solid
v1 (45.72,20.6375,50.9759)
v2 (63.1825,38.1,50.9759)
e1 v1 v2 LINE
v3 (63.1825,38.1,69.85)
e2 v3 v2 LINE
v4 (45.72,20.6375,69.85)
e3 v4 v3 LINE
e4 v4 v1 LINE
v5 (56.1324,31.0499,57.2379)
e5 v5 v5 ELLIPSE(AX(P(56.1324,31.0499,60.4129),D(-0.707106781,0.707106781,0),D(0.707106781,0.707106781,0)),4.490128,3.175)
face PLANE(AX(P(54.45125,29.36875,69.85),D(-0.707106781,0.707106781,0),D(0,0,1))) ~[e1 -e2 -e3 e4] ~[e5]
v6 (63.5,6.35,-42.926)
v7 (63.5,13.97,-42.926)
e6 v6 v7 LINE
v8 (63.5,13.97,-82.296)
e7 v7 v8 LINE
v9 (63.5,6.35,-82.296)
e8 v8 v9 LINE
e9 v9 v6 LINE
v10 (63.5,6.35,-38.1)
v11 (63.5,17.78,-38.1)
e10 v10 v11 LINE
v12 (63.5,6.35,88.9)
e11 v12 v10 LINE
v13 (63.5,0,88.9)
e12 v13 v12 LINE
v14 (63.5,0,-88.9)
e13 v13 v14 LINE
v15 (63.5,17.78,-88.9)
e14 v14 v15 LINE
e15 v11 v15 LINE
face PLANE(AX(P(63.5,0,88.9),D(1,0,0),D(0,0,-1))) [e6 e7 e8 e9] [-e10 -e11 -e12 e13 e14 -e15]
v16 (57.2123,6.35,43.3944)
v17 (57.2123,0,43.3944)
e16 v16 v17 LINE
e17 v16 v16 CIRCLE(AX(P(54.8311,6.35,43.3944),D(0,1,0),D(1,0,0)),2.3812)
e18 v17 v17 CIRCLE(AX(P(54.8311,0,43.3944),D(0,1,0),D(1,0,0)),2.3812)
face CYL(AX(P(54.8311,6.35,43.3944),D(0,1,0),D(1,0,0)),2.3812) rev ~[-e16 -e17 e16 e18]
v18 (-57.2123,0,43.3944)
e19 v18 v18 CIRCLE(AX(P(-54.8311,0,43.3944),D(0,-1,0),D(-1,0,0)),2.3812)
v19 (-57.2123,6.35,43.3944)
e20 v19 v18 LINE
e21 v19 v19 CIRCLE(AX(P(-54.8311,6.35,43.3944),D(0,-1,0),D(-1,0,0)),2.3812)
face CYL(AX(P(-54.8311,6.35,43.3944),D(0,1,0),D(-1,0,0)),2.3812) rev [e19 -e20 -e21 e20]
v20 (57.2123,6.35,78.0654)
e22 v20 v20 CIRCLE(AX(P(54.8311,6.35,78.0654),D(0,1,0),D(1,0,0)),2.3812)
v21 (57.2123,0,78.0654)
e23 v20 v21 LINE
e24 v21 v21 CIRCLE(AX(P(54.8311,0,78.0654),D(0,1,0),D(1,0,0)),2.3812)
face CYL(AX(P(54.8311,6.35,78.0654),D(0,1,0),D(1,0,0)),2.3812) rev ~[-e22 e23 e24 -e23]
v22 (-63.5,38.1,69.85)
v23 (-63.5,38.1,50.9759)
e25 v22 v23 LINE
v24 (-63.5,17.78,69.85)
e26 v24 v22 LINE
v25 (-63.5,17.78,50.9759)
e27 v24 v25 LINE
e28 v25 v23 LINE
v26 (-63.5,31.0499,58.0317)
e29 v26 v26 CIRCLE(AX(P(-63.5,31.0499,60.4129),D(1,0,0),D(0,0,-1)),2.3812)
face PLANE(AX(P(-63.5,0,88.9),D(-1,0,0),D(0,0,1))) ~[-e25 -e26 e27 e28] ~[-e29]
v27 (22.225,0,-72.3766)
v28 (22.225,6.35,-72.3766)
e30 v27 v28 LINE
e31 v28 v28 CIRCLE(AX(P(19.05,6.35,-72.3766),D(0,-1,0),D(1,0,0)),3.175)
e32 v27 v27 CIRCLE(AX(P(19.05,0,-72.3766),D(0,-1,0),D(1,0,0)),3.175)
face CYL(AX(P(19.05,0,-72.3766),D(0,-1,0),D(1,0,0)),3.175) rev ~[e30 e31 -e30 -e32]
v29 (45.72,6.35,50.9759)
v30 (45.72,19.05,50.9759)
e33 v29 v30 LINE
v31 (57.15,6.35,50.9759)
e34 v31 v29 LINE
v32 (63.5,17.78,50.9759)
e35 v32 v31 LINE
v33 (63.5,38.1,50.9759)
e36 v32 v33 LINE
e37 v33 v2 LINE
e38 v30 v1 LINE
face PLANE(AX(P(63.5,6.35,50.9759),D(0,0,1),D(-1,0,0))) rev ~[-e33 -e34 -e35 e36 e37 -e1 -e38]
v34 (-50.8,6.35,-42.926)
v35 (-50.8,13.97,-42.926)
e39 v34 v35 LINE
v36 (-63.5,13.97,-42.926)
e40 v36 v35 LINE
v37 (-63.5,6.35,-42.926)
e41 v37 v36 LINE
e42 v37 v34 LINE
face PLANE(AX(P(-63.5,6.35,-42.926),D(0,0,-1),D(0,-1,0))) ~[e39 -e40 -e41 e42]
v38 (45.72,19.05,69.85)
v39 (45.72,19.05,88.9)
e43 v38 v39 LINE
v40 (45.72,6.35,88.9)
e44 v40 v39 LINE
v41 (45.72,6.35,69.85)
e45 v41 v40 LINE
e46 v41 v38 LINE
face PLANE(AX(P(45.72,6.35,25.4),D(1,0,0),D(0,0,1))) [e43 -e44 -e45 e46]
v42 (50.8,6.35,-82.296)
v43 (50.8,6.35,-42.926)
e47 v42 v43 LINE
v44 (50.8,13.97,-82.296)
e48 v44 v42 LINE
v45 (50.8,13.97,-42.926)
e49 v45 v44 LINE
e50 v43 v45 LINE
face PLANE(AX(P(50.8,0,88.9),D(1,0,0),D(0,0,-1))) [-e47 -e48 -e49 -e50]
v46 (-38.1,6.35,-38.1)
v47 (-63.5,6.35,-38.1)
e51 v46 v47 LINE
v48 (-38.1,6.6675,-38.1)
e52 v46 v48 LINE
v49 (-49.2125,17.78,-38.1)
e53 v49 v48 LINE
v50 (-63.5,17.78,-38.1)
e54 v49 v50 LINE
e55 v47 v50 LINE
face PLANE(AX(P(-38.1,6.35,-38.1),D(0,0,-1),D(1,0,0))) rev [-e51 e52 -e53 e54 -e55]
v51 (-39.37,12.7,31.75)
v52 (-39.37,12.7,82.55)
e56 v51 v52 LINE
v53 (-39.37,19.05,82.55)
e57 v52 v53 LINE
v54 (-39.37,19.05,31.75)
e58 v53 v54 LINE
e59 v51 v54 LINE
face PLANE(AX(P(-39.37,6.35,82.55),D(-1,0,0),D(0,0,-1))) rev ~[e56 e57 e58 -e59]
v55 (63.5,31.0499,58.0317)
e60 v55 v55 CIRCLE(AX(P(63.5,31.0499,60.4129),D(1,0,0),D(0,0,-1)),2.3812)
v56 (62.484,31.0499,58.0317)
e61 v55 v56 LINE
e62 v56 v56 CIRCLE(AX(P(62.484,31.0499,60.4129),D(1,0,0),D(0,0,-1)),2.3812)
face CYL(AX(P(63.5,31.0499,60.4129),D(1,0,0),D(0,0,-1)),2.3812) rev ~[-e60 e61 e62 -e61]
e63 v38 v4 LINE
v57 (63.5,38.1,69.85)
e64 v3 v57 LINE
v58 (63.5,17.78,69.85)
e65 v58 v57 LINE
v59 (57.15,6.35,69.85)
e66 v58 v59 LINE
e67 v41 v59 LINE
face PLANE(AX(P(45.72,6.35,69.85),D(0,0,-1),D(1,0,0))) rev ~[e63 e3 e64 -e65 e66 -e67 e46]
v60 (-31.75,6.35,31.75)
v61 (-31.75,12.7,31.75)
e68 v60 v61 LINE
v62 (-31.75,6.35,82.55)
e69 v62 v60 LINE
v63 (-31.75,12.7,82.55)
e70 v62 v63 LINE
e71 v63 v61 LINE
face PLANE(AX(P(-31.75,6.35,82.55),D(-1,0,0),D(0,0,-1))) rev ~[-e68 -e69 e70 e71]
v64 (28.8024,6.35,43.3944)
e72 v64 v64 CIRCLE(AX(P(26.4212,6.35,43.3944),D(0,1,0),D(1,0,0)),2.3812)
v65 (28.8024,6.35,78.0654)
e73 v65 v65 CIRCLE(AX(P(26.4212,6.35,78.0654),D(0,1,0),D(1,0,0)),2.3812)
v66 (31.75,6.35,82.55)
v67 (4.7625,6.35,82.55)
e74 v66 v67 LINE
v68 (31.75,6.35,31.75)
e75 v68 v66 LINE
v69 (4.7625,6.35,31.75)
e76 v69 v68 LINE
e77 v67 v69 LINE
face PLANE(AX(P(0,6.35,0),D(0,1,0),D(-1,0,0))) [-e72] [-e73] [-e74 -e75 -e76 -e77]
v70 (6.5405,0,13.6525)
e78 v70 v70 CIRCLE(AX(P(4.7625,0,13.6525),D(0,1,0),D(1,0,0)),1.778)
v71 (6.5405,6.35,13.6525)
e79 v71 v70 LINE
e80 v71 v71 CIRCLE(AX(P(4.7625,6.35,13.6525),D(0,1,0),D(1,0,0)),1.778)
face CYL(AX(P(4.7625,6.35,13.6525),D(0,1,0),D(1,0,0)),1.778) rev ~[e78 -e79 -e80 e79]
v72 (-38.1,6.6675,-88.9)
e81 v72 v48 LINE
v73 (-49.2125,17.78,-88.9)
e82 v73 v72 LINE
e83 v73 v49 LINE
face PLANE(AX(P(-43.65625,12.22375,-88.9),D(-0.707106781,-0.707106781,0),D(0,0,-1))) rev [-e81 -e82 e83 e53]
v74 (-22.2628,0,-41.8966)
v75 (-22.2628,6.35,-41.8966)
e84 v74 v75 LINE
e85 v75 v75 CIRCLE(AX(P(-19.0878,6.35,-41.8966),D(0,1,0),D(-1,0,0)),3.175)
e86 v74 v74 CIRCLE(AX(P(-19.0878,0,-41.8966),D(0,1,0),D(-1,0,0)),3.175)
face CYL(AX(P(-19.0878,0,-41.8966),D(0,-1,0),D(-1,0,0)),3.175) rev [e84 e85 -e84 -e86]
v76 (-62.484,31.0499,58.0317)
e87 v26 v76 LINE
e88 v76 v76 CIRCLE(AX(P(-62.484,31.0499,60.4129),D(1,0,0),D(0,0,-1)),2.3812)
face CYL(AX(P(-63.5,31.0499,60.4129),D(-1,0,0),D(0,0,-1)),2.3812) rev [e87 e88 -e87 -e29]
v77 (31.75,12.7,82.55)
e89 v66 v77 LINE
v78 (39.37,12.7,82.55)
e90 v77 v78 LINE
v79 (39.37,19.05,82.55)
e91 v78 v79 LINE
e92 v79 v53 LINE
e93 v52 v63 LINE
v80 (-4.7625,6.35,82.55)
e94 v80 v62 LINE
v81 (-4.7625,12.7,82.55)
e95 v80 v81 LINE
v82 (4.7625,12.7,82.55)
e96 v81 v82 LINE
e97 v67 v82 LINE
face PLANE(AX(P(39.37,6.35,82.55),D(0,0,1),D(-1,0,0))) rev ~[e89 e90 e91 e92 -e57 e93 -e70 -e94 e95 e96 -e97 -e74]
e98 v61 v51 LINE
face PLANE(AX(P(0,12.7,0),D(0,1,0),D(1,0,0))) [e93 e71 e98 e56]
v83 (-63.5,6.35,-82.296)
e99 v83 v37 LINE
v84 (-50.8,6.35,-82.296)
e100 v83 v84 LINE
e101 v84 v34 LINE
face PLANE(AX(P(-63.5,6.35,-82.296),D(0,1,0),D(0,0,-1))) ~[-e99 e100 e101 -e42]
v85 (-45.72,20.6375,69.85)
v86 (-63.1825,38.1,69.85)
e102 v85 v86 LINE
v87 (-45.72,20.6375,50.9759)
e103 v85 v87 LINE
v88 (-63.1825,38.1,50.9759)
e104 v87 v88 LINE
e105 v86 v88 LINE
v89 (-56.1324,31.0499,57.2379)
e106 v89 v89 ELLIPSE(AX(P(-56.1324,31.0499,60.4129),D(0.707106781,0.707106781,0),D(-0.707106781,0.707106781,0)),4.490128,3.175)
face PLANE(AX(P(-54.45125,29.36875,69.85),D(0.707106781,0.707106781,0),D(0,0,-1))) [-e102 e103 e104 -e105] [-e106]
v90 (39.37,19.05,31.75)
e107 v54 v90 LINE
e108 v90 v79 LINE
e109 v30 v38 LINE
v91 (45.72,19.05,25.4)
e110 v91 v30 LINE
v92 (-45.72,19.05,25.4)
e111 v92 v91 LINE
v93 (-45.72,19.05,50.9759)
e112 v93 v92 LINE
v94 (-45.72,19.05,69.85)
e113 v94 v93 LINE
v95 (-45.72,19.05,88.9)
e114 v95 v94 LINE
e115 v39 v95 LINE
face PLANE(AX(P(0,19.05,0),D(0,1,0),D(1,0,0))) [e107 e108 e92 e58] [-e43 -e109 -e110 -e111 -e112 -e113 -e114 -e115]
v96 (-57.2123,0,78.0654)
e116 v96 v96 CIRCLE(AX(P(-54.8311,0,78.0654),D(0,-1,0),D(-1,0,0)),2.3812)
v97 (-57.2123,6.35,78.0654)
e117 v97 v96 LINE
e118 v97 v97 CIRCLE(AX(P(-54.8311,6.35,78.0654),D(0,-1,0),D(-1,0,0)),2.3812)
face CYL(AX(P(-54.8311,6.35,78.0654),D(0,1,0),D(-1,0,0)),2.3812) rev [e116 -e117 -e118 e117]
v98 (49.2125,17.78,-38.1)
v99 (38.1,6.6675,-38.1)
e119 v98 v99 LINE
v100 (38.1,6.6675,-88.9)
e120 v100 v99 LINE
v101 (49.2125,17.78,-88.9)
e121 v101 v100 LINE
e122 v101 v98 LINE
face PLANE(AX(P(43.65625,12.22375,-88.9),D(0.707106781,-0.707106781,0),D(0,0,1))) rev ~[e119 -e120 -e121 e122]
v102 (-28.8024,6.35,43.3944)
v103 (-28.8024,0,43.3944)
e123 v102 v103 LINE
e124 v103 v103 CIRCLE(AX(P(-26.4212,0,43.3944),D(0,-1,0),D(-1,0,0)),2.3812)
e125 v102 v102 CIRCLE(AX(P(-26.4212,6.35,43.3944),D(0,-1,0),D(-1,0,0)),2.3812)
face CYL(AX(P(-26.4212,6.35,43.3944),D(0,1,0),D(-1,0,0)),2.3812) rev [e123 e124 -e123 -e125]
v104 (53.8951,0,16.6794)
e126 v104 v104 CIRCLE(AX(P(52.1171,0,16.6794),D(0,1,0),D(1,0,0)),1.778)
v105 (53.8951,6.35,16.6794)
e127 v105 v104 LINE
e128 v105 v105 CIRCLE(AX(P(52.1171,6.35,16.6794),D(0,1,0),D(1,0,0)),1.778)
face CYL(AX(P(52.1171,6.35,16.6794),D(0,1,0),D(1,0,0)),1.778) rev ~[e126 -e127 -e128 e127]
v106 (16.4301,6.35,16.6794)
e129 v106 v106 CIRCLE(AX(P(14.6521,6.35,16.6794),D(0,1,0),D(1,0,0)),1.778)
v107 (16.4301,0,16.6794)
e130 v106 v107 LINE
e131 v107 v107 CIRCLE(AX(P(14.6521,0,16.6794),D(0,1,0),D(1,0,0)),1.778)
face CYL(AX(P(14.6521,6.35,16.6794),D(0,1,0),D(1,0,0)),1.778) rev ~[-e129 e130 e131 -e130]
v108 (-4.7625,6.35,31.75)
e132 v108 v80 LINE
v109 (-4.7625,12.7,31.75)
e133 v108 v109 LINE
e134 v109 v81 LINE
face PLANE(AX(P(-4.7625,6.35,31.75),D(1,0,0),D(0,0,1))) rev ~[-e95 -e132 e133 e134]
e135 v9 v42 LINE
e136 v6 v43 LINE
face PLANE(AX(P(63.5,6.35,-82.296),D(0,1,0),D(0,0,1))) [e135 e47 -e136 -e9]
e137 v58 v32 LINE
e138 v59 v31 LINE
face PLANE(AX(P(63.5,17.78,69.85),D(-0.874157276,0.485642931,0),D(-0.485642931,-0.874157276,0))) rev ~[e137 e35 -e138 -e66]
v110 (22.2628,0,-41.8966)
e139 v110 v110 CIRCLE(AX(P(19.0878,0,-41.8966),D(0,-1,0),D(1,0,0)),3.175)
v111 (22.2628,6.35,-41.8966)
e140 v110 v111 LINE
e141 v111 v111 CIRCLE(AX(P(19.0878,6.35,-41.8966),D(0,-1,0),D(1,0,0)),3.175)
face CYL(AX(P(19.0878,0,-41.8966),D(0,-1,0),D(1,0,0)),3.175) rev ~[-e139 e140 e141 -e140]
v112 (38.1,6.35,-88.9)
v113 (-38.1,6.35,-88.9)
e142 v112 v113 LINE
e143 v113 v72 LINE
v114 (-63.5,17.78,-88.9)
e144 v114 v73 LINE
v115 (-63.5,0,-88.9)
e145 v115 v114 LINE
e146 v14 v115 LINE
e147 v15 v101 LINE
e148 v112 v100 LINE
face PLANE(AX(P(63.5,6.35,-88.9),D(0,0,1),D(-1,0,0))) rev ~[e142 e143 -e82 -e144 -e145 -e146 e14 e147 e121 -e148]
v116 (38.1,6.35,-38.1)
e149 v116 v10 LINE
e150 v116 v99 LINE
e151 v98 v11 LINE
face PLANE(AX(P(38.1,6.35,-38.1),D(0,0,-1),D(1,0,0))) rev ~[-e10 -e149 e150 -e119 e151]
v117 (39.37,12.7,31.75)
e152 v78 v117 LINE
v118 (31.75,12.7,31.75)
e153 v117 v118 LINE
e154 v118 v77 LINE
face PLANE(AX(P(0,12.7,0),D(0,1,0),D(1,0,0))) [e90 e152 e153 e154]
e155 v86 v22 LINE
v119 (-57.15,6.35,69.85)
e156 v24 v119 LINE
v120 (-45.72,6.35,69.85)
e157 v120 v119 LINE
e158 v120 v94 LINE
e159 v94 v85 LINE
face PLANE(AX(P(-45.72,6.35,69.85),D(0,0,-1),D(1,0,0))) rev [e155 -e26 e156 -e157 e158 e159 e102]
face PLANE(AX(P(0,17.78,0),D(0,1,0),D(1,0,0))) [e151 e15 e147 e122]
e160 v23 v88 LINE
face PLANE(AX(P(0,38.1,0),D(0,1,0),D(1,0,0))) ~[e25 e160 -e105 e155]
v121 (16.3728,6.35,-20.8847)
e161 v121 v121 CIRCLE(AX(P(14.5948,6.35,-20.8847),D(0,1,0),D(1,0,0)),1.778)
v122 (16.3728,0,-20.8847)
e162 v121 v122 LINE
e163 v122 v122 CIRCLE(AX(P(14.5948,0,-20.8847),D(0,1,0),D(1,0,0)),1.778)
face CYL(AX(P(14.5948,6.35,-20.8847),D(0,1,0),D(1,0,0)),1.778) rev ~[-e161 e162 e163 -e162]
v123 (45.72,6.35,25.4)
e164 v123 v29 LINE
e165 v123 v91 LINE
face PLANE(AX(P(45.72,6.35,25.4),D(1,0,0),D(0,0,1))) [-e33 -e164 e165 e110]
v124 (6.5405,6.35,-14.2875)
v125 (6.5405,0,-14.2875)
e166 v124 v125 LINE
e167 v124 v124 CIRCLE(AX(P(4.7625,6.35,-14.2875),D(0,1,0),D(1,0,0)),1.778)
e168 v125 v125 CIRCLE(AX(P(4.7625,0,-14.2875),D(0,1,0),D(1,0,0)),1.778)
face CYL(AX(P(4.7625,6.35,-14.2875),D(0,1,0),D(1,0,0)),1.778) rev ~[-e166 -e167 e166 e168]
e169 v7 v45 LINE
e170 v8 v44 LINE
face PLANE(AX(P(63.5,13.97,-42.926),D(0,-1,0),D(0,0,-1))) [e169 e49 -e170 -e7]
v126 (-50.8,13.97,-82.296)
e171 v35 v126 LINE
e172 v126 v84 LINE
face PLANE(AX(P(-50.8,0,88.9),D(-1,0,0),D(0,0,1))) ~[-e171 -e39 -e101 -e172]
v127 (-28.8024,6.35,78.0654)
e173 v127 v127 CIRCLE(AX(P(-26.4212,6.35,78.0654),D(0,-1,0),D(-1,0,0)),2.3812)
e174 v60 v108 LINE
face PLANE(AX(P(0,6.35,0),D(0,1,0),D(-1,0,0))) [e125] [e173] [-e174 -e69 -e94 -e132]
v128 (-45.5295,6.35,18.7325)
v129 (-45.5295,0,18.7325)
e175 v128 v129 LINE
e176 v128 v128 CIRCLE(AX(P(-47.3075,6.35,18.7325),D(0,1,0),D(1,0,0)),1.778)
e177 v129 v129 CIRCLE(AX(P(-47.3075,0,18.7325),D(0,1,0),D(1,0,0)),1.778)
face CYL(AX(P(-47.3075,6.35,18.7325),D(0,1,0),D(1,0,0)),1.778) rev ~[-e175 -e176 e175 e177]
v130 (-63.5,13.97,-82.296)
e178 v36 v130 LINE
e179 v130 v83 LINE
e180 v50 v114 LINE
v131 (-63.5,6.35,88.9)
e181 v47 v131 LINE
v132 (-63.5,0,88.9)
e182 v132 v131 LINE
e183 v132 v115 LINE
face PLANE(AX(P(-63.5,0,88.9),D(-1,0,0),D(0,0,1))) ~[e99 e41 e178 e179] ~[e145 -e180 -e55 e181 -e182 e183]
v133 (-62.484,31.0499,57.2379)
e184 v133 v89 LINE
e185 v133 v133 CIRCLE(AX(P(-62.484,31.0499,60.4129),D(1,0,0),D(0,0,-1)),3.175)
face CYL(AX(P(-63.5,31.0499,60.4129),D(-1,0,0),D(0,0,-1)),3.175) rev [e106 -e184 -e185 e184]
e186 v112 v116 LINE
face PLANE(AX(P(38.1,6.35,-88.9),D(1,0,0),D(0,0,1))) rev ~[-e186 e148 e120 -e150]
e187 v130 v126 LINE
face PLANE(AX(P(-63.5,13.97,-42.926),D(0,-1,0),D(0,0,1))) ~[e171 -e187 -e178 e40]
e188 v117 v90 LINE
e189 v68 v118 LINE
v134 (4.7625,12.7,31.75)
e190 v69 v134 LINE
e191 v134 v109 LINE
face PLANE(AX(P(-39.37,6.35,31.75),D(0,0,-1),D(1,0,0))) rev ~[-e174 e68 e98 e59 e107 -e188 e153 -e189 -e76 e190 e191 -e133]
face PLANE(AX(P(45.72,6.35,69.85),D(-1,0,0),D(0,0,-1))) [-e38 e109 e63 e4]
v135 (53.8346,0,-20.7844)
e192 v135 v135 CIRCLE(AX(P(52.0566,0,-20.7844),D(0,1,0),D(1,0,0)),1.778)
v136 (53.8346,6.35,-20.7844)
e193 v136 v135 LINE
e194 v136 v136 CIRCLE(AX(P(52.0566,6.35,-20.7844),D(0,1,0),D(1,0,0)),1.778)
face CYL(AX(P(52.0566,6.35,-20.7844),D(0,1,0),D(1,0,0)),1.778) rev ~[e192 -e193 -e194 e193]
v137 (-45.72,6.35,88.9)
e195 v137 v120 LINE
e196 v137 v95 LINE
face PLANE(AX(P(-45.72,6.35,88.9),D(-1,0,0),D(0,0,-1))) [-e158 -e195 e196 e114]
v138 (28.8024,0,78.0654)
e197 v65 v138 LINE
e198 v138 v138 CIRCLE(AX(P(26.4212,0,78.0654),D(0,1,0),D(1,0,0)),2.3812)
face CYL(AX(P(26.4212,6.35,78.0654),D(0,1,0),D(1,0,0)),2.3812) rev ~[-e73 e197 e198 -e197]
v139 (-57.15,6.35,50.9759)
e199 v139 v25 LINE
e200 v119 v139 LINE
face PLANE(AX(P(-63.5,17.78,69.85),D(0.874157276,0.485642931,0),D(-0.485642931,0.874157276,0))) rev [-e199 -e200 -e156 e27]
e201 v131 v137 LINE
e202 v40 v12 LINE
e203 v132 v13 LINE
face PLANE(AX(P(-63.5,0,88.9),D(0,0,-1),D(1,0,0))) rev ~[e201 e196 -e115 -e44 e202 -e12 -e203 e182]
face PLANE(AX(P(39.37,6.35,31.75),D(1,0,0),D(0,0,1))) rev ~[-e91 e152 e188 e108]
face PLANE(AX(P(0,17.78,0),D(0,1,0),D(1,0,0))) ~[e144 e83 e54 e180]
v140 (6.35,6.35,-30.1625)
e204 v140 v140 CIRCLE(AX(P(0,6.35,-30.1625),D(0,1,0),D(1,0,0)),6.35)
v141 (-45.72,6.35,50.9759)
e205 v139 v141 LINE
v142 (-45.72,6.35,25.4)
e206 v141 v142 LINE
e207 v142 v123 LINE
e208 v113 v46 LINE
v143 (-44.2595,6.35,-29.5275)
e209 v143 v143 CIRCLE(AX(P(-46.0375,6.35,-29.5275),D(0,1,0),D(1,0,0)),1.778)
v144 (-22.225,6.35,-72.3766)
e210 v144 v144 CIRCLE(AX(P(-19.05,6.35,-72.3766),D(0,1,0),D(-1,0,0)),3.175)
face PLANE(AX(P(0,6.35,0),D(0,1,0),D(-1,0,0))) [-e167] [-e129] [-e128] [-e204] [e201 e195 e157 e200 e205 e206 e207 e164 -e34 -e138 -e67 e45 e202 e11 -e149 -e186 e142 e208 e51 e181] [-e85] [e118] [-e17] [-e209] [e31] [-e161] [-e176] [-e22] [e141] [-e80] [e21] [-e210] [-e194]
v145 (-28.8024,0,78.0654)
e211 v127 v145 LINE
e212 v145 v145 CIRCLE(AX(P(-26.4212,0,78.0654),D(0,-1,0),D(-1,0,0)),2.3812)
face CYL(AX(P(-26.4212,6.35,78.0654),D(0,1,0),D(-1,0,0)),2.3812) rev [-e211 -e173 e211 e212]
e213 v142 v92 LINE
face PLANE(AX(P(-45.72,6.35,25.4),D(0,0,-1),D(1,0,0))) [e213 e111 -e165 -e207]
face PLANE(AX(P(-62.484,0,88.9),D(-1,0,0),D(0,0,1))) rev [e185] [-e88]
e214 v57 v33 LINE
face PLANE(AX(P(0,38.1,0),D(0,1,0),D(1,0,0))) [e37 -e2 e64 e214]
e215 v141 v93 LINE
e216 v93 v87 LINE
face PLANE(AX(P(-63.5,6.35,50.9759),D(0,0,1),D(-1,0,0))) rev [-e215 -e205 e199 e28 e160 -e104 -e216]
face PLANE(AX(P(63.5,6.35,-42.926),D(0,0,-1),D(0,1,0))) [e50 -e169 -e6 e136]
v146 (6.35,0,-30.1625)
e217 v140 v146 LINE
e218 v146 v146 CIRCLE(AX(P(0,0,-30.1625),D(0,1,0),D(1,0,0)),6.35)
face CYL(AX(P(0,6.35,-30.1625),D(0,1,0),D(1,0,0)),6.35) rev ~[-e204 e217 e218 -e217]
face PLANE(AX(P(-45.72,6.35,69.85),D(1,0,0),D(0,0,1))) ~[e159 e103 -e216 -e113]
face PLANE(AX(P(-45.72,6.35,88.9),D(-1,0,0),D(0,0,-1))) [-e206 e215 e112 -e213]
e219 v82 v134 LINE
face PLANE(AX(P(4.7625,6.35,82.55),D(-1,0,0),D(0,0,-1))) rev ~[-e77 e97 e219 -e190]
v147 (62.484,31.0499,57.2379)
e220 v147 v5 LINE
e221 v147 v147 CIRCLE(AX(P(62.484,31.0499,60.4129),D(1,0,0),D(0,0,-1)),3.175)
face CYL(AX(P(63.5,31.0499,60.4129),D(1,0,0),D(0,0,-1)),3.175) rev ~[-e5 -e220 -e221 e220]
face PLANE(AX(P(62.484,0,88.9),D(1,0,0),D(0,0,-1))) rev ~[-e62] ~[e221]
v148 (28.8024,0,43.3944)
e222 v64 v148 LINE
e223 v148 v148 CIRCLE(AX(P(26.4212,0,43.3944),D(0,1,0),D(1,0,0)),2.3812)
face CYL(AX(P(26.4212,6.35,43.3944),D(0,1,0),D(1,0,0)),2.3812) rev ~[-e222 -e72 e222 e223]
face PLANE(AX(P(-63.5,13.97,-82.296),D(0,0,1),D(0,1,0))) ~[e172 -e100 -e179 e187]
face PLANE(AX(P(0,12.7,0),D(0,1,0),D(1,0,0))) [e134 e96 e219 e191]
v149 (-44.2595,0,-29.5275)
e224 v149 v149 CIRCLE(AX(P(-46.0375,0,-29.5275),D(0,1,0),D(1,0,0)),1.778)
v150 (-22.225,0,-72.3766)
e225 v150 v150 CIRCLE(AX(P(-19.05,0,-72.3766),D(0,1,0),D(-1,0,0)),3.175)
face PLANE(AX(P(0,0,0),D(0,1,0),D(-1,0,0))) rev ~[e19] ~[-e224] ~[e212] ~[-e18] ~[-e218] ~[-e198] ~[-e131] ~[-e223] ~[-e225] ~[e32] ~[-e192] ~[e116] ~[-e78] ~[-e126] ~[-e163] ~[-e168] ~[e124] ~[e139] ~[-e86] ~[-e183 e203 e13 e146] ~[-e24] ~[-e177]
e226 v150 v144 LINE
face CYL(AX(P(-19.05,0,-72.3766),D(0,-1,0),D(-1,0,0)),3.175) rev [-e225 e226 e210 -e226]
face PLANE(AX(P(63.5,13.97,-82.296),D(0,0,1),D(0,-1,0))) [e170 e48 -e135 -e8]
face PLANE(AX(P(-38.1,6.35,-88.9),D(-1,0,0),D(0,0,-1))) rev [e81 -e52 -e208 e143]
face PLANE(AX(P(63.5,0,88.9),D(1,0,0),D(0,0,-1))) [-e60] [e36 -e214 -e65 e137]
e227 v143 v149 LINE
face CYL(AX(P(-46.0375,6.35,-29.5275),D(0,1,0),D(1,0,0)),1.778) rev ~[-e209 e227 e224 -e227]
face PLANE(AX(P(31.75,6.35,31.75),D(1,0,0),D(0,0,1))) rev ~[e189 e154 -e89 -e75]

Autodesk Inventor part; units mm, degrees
ref_plane "YZ Plane" through (0, 0, 0) normal (1, 0, 0) x (0, 1, 0)
ref_plane "XZ Plane" through (0, 0, 0) normal (0, 1, 0) x (-1, 0, 0)
ref_plane "XY Plane" through (0, 0, 0) normal (0, 0, 1) x (1, 0, 0)
sketch "Sketch1" plane through (0, 0, 0) normal (0, 1, 0) x (-1, 0, 0)
  line L0 (63.5, 88.9) -> (-63.5, 88.9)
  line L1 (-63.5, 88.9) -> (-63.5, -88.9)
  line L2 (-63.5, -88.9) -> (63.5, -88.9)
  line L3 (63.5, -88.9) -> (63.5, 88.9)
  line L4 (63.5, 88.9) -> (-63.5, -88.9) construction
  line L5 (-63.5, 88.9) -> (63.5, -88.9) construction
  point P0 (0, 0)
  dimension "d0" = 177.8
  dimension "d1" = 127
extrude "main chassis frame" add sketch "Sketch1" along normal blind 6.35
sketch "Sketch4" plane through (0, 6.35, 0) normal (0, 1, 0) x (1, 0, 0)
  circle A0 centre (54.8311, -78.0654) radius 2.3812
  circle A1 centre (54.8311, -43.3944) radius 2.3812
  line L0 (54.8311, -75.6842) -> (54.8311, -45.7757) construction
  circle A2 centre (26.4212, -78.0654) radius 2.3812
  circle A3 centre (26.4212, -43.3944) radius 2.3812
  line L1 (26.4212, -75.6842) -> (26.4212, -45.7757) construction
  line L2 (28.8024, -78.0654) -> (52.4498, -78.0654) construction
  point P0 (0, 0)
  dimension "d19" = 4.7625
  dimension "d165" = 4.7625
  dimension "d164" = 29.9085
  dimension "d166" = 29.9085
  dimension "d167" = 23.6474
extrude "mounting holes for caster" cut sketch "Sketch4" against normal blind 6.35
sketch "Sketch5" plane through (0, 6.35, 0) normal (0, 1, 0) x (1, 0, 0)
  line L0 (63.5, 88.9) -> (-63.5, 88.9) projected
  line L1 (-63.5, -88.9) -> (63.5, -88.9) projected
  line L2 (0, 88.9) -> (-63.5, 88.9)
  line L3 (-63.5, 88.9) -> (-63.5, -88.9)
  line L4 (-63.5, -88.9) -> (0, -88.9)
  line L5 (0, -88.9) -> (0, 88.9)
  point P0 (0, 0)
  point P1 (-63.5, 88.9)
extrude "cut in half to mirror holes later" cut sketch "Sketch5" against normal blind 6.35
sketch "Sketch6" plane through (0, 0, 0) normal (0, -1, 0) x (1, 0, 0)
  circle A0 centre (19.05, -72.3766) radius 3.175
  line L0 (63.5378, -72.3766) -> (19.0878, -72.3766) construction
  line L1 (19.0878, -72.3766) -> (19.0878, -41.8966) construction
  circle A1 centre (19.0878, -41.8966) radius 3.175
  point P0 (0, 0)
  dimension "d26" = 44.45
  dimension "d27" = 6.35
  dimension "d28" = 30.48
  dimension "d29" = 6.35
extrude "zip tie mounting holes for motors" cut sketch "Sketch6" against normal blind 6.35
sketch "Sketch12" plane through (0, 6.35, 0) normal (0, 1, 0) x (1, 0, 0)
  line L0 (63.5, 88.9) -> (0, 88.9) projected
  line L1 (63.5, 88.9) -> (38.1, 88.9)
  line L2 (38.1, 88.9) -> (38.1, 38.1)
  line L3 (38.1, 38.1) -> (63.5, 38.1)
  line L4 (63.5, 38.1) -> (63.5, 88.9)
  point P0 (0, 0)
  dimension "d227" = 50.8
  dimension "d228" = 25.4
extrude "motor mount covers" add sketch "Sketch12" along normal blind 11.43
chamfer "motor mount slants" distance 11.1125 angle 45 1 edges at (38.1, 17.78, -63.5)
mirror "Mirror6" about plane through (0, 0, 0) normal (1, 0, 0)
sketch "Sketch22" plane through (0, 6.35, 0) normal (0, 1, 0) x (1, 0, 0)
  circle A0 centre (0, 30.1625) radius 6.35
  point P0 (0, 0)
extrude "new hole for motor wires" cut sketch "Sketch22" against normal blind 6.35
sketch "arduino uno mounting holes" plane through (0, 6.35, 0) normal (0, 1, 0) x (1, 0, 0)
  line L0 (-63.5, -88.9) -> (-63.5, 88.9) projected
  line L1 (-58.42, -17.7229) -> (-58.42, 33.0771) construction
  circle A0 centre (-46.0375, 29.5275) radius 1.778
  circle A1 centre (-47.3075, -18.7325) radius 1.778
  circle A2 centre (4.7625, 14.2875) radius 1.778
  circle A3 centre (4.7625, -13.6525) radius 1.778
  line L2 (-46.0375, 34.2699) -> (-46.0375, -23.7548) construction
  line L3 (-47.3075, -22.4854) -> (-47.3075, 33.7972) construction
  line L4 (4.7625, -21.8575) -> (4.7625, 22.1977) construction
  line L5 (15.8332, 14.2875) -> (-15.1882, 14.2875) construction
  line L6 (-52.07, 29.5275) -> (-2.2478, 29.5275) construction
  line L7 (11.43, -13.6525) -> (-14.3019, -13.6525) construction
  line L8 (-51.7639, -18.7325) -> (-2.8575, -18.7325) construction
  point P0 (0, 0)
  dimension "d186" = 3.556
  dimension "d219" = 1.27
  dimension "d220" = 15.24
  dimension "d221" = 27.94
  dimension "d222" = 5.08
  dimension "d223" = 50.8
extrude "uno mounting holes" cut sketch "arduino uno mounting holes" against normal blind 6.35
sketch "motor mount holes sketch" plane through (0, 6.35, 0) normal (0, 1, 0) x (1, 0, 0)
  line L0 (12.2391, 24.4663) -> (55.7366, 24.4663) construction
  line L1 (55.7366, 24.4663) -> (55.7366, -19.0312) construction
  line L2 (55.7366, -19.0312) -> (12.2391, -19.0312) construction
  line L3 (12.2391, -19.0312) -> (12.2391, 24.4663) construction
  circle A0 centre (52.0566, 20.7844) radius 1.778
  line L4 (52.1191, 22.5613) -> (52.1191, 24.4663) construction
  line L5 (53.8316, 20.8881) -> (55.7366, 20.8881) construction
  circle A1 centre (14.5948, 20.8847) radius 1.778
  line L6 (16.206, 21.6364) -> (50.496, 21.6364) construction
  circle A2 centre (52.1171, -16.6794) radius 1.778
  line L7 (52.888, -15.0773) -> (52.888, 19.2127) construction
  circle A3 centre (14.6521, -16.6794) radius 1.778
  line L8 (16.2396, -15.8787) -> (50.5296, -15.8787) construction
  point P0 (0, 0)
  dimension "d224" = 3.556
  dimension "d208" = 43.4975
  dimension "d209" = 43.4975
  dimension "d210" = 1.905
  dimension "d211" = 1.905
  dimension "d214" = 34.29
  dimension "d215" = 34.29
  dimension "d216" = 34.29
extrude "L298N mount holes" cut sketch "motor mount holes sketch" against normal blind 6.6675
sketch "Sketch33" plane through (0, 6.35, 0) normal (0, 1, 0) x (1, 0, 0)
  line L0 (-45.72, -25.4) -> (45.72, -25.4)
  line L1 (45.72, -25.4) -> (45.72, -88.9)
  line L2 (45.72, -88.9) -> (-45.72, -88.9)
  line L3 (-45.72, -88.9) -> (-45.72, -25.4)
  line L4 (-39.37, -31.75) -> (39.37, -31.75)
  line L5 (39.37, -31.75) -> (39.37, -82.55)
  line L6 (39.37, -82.55) -> (-39.37, -82.55)
  line L7 (-39.37, -82.55) -> (-39.37, -31.75)
  line L8 (-45.72, -60.325) -> (-63.5, -60.325) construction
  line L9 (-63.5, -88.9) -> (-63.5, 88.9) projected
  line L10 (45.72, -65.0875) -> (63.5, -65.0875) construction
  line L11 (63.5, -88.9) -> (63.5, 88.9) projected
  line L12 (-63.5, -88.9) -> (63.5, -88.9) projected
  point P0 (0, 0)
  dimension "d235" = 63.5
  dimension "d236" = 50.8
  dimension "d237" = 91.44
  dimension "d238" = 78.74
  dimension "d239" = 6.35
  dimension "d240" = 6.35
  dimension "d241" = 6.35
  dimension "d242" = 6.35
extrude "battery walls" add sketch "Sketch33" along normal blind 12.7
sketch "Sketch34" plane through (0, 6.35, 0) normal (0, 1, 0) x (1, 0, 0)
  line L0 (39.37, -31.75) -> (-39.37, -31.75) projected
  line L1 (-39.37, -82.55) -> (39.37, -82.55) projected
  line L2 (-31.75, -31.75) -> (-39.37, -31.75)
  line L3 (-39.37, -31.75) -> (-39.37, -82.55)
  line L4 (-39.37, -82.55) -> (-31.75, -82.55)
  line L5 (-31.75, -82.55) -> (-31.75, -31.75)
  line L6 (39.37, -82.55) -> (39.37, -31.75) projected
  line L7 (39.37, -31.75) -> (31.75, -31.75)
  line L8 (31.75, -31.75) -> (31.75, -82.55)
  line L9 (31.75, -82.55) -> (39.37, -82.55)
  line L10 (39.37, -82.55) -> (39.37, -31.75)
  line L11 (4.7625, -31.75) -> (-4.7625, -31.75)
  line L12 (-4.7625, -31.75) -> (-4.7625, -82.55)
  line L13 (-4.7625, -82.55) -> (4.7625, -82.55)
  line L14 (4.7625, -82.55) -> (4.7625, -31.75)
  point P0 (0, 0)
extrude "battery inner walls" add sketch "Sketch34" along normal blind 6.35 contours L6 L1 L8 L0 | L14 L1 L12 L0 | L5 L1 L3 L0
sketch "Sketch32" plane through (63.5, 0, 88.9) normal (1, 0, 0) x (0, 0, -1)
  line L0 (171.196, 6.35) -> (131.826, 6.35)
  line L1 (131.826, 6.35) -> (131.826, 13.97)
  line L2 (131.826, 13.97) -> (171.196, 13.97)
  line L3 (171.196, 13.97) -> (171.196, 6.35)
  line L4 (171.196, 10.16) -> (177.8, 10.16) construction
  line L5 (177.8, 0) -> (177.8, 17.78) projected
  line L6 (131.826, 9.8881) -> (127, 9.8881) construction
  line L7 (127, 6.35) -> (127, 17.78) projected
  line L8 (0, 6.35) -> (127, 6.35) projected
  point P0 (88.9, 0)
  dimension "d225" = 39.37
  dimension "d226" = 7.62
  dimension "d268" = 6.604
extrude "motor mount slot - R" cut sketch "Sketch32" against normal blind 12.7
sketch "Sketch36" plane through (0, 6.35, 0) normal (0, 1, 0) x (1, 0, 0)
  line L0 (45.72, -88.9) -> (45.72, -25.4) projected
  line L1 (63.5, -88.9) -> (63.5, 88.9) projected
  line L2 (45.72, -69.85) -> (63.5, -69.85)
  line L3 (63.5, -69.85) -> (63.5, -50.9759)
  line L4 (63.5, -50.9759) -> (45.72, -50.9759)
  line L5 (45.72, -50.9759) -> (45.72, -69.85)
  point P0 (0, 0)
extrude "side panel mount pillar" add sketch "Sketch36" along normal blind 31.75
chamfer "side panel mount pillar slant" distance 17.4625 angle 45 1 edges at (45.72, 38.1, 60.4129)
sketch "side panel mount hole" plane through (63.5, 0, 88.9) normal (1, 0, 0) x (0, 0, -1)
  circle A0 centre (28.4871, 31.0499) radius 2.3812
  line L0 (28.4871, 31.0499) -> (19.05, 31.0499) construction
  line L1 (19.05, 6.35) -> (19.05, 38.1) projected
  line L2 (28.4871, 31.0499) -> (37.9241, 31.0499) construction
  line L3 (37.9241, 6.35) -> (37.9241, 38.1) projected
  circle A1 centre (28.4871, 31.0499) radius 3.175
  point P0 (88.9, 0)
  dimension "d256" = 4.7625
  dimension "d257" = 6.35
extrude "side panel mount pillar hole - R" cut sketch "side panel mount hole" against normal blind 14.2875 contours A0 | A1
extrude "side panel mount pillar hole rim - R" add sketch "side panel mount hole" against normal blind 1.016
sketch "Sketch38" plane through (45.72, 6.35, 69.85) normal (0, 0, 1) x (1, 0, 0)
  line L0 (17.78, 0) -> (17.78, 11.43) projected
  line L1 (17.78, 11.43) -> (11.43, 0)
  line L2 (17.78, 0) -> (5.08, 0) projected
  point P0 (-45.72, -6.35)
extrude "side panel mount pillar wire passageway - R" cut sketch "Sketch38" against normal blind 19.6215
mirror "Mirror7" about plane through (0, 0, 0) normal (1, 0, 0) of "motor mount slot - R", "side panel mount pillar", "side panel mount pillar slant", "side panel mount pillar hole - R", "side panel mount pillar hole rim - R", "side panel mount pillar wire passageway - R"
sketch "side panel hole dimensions" plane through (63.5, 0, 88.9) normal (1, 0, 0) x (0, 0, -1)
  line L0 (0, 0) -> (0, 6.35) projected
  line L1 (19.05, 17.78) -> (19.05, 38.1) projected
  circle A0 centre (28.4871, 31.0499) radius 2.3812 projected
  line L2 (177.8, 0) -> (177.8, 17.78) projected
  point P0 (88.9, 0)
  dimension "d264" = 19.05
  dimension "d265" = 9.4371
  dimension "d266" = 28.4871
  dimension "d267" = 149.3129
properties part number "chassis" material "Plastic, Opaque White"
